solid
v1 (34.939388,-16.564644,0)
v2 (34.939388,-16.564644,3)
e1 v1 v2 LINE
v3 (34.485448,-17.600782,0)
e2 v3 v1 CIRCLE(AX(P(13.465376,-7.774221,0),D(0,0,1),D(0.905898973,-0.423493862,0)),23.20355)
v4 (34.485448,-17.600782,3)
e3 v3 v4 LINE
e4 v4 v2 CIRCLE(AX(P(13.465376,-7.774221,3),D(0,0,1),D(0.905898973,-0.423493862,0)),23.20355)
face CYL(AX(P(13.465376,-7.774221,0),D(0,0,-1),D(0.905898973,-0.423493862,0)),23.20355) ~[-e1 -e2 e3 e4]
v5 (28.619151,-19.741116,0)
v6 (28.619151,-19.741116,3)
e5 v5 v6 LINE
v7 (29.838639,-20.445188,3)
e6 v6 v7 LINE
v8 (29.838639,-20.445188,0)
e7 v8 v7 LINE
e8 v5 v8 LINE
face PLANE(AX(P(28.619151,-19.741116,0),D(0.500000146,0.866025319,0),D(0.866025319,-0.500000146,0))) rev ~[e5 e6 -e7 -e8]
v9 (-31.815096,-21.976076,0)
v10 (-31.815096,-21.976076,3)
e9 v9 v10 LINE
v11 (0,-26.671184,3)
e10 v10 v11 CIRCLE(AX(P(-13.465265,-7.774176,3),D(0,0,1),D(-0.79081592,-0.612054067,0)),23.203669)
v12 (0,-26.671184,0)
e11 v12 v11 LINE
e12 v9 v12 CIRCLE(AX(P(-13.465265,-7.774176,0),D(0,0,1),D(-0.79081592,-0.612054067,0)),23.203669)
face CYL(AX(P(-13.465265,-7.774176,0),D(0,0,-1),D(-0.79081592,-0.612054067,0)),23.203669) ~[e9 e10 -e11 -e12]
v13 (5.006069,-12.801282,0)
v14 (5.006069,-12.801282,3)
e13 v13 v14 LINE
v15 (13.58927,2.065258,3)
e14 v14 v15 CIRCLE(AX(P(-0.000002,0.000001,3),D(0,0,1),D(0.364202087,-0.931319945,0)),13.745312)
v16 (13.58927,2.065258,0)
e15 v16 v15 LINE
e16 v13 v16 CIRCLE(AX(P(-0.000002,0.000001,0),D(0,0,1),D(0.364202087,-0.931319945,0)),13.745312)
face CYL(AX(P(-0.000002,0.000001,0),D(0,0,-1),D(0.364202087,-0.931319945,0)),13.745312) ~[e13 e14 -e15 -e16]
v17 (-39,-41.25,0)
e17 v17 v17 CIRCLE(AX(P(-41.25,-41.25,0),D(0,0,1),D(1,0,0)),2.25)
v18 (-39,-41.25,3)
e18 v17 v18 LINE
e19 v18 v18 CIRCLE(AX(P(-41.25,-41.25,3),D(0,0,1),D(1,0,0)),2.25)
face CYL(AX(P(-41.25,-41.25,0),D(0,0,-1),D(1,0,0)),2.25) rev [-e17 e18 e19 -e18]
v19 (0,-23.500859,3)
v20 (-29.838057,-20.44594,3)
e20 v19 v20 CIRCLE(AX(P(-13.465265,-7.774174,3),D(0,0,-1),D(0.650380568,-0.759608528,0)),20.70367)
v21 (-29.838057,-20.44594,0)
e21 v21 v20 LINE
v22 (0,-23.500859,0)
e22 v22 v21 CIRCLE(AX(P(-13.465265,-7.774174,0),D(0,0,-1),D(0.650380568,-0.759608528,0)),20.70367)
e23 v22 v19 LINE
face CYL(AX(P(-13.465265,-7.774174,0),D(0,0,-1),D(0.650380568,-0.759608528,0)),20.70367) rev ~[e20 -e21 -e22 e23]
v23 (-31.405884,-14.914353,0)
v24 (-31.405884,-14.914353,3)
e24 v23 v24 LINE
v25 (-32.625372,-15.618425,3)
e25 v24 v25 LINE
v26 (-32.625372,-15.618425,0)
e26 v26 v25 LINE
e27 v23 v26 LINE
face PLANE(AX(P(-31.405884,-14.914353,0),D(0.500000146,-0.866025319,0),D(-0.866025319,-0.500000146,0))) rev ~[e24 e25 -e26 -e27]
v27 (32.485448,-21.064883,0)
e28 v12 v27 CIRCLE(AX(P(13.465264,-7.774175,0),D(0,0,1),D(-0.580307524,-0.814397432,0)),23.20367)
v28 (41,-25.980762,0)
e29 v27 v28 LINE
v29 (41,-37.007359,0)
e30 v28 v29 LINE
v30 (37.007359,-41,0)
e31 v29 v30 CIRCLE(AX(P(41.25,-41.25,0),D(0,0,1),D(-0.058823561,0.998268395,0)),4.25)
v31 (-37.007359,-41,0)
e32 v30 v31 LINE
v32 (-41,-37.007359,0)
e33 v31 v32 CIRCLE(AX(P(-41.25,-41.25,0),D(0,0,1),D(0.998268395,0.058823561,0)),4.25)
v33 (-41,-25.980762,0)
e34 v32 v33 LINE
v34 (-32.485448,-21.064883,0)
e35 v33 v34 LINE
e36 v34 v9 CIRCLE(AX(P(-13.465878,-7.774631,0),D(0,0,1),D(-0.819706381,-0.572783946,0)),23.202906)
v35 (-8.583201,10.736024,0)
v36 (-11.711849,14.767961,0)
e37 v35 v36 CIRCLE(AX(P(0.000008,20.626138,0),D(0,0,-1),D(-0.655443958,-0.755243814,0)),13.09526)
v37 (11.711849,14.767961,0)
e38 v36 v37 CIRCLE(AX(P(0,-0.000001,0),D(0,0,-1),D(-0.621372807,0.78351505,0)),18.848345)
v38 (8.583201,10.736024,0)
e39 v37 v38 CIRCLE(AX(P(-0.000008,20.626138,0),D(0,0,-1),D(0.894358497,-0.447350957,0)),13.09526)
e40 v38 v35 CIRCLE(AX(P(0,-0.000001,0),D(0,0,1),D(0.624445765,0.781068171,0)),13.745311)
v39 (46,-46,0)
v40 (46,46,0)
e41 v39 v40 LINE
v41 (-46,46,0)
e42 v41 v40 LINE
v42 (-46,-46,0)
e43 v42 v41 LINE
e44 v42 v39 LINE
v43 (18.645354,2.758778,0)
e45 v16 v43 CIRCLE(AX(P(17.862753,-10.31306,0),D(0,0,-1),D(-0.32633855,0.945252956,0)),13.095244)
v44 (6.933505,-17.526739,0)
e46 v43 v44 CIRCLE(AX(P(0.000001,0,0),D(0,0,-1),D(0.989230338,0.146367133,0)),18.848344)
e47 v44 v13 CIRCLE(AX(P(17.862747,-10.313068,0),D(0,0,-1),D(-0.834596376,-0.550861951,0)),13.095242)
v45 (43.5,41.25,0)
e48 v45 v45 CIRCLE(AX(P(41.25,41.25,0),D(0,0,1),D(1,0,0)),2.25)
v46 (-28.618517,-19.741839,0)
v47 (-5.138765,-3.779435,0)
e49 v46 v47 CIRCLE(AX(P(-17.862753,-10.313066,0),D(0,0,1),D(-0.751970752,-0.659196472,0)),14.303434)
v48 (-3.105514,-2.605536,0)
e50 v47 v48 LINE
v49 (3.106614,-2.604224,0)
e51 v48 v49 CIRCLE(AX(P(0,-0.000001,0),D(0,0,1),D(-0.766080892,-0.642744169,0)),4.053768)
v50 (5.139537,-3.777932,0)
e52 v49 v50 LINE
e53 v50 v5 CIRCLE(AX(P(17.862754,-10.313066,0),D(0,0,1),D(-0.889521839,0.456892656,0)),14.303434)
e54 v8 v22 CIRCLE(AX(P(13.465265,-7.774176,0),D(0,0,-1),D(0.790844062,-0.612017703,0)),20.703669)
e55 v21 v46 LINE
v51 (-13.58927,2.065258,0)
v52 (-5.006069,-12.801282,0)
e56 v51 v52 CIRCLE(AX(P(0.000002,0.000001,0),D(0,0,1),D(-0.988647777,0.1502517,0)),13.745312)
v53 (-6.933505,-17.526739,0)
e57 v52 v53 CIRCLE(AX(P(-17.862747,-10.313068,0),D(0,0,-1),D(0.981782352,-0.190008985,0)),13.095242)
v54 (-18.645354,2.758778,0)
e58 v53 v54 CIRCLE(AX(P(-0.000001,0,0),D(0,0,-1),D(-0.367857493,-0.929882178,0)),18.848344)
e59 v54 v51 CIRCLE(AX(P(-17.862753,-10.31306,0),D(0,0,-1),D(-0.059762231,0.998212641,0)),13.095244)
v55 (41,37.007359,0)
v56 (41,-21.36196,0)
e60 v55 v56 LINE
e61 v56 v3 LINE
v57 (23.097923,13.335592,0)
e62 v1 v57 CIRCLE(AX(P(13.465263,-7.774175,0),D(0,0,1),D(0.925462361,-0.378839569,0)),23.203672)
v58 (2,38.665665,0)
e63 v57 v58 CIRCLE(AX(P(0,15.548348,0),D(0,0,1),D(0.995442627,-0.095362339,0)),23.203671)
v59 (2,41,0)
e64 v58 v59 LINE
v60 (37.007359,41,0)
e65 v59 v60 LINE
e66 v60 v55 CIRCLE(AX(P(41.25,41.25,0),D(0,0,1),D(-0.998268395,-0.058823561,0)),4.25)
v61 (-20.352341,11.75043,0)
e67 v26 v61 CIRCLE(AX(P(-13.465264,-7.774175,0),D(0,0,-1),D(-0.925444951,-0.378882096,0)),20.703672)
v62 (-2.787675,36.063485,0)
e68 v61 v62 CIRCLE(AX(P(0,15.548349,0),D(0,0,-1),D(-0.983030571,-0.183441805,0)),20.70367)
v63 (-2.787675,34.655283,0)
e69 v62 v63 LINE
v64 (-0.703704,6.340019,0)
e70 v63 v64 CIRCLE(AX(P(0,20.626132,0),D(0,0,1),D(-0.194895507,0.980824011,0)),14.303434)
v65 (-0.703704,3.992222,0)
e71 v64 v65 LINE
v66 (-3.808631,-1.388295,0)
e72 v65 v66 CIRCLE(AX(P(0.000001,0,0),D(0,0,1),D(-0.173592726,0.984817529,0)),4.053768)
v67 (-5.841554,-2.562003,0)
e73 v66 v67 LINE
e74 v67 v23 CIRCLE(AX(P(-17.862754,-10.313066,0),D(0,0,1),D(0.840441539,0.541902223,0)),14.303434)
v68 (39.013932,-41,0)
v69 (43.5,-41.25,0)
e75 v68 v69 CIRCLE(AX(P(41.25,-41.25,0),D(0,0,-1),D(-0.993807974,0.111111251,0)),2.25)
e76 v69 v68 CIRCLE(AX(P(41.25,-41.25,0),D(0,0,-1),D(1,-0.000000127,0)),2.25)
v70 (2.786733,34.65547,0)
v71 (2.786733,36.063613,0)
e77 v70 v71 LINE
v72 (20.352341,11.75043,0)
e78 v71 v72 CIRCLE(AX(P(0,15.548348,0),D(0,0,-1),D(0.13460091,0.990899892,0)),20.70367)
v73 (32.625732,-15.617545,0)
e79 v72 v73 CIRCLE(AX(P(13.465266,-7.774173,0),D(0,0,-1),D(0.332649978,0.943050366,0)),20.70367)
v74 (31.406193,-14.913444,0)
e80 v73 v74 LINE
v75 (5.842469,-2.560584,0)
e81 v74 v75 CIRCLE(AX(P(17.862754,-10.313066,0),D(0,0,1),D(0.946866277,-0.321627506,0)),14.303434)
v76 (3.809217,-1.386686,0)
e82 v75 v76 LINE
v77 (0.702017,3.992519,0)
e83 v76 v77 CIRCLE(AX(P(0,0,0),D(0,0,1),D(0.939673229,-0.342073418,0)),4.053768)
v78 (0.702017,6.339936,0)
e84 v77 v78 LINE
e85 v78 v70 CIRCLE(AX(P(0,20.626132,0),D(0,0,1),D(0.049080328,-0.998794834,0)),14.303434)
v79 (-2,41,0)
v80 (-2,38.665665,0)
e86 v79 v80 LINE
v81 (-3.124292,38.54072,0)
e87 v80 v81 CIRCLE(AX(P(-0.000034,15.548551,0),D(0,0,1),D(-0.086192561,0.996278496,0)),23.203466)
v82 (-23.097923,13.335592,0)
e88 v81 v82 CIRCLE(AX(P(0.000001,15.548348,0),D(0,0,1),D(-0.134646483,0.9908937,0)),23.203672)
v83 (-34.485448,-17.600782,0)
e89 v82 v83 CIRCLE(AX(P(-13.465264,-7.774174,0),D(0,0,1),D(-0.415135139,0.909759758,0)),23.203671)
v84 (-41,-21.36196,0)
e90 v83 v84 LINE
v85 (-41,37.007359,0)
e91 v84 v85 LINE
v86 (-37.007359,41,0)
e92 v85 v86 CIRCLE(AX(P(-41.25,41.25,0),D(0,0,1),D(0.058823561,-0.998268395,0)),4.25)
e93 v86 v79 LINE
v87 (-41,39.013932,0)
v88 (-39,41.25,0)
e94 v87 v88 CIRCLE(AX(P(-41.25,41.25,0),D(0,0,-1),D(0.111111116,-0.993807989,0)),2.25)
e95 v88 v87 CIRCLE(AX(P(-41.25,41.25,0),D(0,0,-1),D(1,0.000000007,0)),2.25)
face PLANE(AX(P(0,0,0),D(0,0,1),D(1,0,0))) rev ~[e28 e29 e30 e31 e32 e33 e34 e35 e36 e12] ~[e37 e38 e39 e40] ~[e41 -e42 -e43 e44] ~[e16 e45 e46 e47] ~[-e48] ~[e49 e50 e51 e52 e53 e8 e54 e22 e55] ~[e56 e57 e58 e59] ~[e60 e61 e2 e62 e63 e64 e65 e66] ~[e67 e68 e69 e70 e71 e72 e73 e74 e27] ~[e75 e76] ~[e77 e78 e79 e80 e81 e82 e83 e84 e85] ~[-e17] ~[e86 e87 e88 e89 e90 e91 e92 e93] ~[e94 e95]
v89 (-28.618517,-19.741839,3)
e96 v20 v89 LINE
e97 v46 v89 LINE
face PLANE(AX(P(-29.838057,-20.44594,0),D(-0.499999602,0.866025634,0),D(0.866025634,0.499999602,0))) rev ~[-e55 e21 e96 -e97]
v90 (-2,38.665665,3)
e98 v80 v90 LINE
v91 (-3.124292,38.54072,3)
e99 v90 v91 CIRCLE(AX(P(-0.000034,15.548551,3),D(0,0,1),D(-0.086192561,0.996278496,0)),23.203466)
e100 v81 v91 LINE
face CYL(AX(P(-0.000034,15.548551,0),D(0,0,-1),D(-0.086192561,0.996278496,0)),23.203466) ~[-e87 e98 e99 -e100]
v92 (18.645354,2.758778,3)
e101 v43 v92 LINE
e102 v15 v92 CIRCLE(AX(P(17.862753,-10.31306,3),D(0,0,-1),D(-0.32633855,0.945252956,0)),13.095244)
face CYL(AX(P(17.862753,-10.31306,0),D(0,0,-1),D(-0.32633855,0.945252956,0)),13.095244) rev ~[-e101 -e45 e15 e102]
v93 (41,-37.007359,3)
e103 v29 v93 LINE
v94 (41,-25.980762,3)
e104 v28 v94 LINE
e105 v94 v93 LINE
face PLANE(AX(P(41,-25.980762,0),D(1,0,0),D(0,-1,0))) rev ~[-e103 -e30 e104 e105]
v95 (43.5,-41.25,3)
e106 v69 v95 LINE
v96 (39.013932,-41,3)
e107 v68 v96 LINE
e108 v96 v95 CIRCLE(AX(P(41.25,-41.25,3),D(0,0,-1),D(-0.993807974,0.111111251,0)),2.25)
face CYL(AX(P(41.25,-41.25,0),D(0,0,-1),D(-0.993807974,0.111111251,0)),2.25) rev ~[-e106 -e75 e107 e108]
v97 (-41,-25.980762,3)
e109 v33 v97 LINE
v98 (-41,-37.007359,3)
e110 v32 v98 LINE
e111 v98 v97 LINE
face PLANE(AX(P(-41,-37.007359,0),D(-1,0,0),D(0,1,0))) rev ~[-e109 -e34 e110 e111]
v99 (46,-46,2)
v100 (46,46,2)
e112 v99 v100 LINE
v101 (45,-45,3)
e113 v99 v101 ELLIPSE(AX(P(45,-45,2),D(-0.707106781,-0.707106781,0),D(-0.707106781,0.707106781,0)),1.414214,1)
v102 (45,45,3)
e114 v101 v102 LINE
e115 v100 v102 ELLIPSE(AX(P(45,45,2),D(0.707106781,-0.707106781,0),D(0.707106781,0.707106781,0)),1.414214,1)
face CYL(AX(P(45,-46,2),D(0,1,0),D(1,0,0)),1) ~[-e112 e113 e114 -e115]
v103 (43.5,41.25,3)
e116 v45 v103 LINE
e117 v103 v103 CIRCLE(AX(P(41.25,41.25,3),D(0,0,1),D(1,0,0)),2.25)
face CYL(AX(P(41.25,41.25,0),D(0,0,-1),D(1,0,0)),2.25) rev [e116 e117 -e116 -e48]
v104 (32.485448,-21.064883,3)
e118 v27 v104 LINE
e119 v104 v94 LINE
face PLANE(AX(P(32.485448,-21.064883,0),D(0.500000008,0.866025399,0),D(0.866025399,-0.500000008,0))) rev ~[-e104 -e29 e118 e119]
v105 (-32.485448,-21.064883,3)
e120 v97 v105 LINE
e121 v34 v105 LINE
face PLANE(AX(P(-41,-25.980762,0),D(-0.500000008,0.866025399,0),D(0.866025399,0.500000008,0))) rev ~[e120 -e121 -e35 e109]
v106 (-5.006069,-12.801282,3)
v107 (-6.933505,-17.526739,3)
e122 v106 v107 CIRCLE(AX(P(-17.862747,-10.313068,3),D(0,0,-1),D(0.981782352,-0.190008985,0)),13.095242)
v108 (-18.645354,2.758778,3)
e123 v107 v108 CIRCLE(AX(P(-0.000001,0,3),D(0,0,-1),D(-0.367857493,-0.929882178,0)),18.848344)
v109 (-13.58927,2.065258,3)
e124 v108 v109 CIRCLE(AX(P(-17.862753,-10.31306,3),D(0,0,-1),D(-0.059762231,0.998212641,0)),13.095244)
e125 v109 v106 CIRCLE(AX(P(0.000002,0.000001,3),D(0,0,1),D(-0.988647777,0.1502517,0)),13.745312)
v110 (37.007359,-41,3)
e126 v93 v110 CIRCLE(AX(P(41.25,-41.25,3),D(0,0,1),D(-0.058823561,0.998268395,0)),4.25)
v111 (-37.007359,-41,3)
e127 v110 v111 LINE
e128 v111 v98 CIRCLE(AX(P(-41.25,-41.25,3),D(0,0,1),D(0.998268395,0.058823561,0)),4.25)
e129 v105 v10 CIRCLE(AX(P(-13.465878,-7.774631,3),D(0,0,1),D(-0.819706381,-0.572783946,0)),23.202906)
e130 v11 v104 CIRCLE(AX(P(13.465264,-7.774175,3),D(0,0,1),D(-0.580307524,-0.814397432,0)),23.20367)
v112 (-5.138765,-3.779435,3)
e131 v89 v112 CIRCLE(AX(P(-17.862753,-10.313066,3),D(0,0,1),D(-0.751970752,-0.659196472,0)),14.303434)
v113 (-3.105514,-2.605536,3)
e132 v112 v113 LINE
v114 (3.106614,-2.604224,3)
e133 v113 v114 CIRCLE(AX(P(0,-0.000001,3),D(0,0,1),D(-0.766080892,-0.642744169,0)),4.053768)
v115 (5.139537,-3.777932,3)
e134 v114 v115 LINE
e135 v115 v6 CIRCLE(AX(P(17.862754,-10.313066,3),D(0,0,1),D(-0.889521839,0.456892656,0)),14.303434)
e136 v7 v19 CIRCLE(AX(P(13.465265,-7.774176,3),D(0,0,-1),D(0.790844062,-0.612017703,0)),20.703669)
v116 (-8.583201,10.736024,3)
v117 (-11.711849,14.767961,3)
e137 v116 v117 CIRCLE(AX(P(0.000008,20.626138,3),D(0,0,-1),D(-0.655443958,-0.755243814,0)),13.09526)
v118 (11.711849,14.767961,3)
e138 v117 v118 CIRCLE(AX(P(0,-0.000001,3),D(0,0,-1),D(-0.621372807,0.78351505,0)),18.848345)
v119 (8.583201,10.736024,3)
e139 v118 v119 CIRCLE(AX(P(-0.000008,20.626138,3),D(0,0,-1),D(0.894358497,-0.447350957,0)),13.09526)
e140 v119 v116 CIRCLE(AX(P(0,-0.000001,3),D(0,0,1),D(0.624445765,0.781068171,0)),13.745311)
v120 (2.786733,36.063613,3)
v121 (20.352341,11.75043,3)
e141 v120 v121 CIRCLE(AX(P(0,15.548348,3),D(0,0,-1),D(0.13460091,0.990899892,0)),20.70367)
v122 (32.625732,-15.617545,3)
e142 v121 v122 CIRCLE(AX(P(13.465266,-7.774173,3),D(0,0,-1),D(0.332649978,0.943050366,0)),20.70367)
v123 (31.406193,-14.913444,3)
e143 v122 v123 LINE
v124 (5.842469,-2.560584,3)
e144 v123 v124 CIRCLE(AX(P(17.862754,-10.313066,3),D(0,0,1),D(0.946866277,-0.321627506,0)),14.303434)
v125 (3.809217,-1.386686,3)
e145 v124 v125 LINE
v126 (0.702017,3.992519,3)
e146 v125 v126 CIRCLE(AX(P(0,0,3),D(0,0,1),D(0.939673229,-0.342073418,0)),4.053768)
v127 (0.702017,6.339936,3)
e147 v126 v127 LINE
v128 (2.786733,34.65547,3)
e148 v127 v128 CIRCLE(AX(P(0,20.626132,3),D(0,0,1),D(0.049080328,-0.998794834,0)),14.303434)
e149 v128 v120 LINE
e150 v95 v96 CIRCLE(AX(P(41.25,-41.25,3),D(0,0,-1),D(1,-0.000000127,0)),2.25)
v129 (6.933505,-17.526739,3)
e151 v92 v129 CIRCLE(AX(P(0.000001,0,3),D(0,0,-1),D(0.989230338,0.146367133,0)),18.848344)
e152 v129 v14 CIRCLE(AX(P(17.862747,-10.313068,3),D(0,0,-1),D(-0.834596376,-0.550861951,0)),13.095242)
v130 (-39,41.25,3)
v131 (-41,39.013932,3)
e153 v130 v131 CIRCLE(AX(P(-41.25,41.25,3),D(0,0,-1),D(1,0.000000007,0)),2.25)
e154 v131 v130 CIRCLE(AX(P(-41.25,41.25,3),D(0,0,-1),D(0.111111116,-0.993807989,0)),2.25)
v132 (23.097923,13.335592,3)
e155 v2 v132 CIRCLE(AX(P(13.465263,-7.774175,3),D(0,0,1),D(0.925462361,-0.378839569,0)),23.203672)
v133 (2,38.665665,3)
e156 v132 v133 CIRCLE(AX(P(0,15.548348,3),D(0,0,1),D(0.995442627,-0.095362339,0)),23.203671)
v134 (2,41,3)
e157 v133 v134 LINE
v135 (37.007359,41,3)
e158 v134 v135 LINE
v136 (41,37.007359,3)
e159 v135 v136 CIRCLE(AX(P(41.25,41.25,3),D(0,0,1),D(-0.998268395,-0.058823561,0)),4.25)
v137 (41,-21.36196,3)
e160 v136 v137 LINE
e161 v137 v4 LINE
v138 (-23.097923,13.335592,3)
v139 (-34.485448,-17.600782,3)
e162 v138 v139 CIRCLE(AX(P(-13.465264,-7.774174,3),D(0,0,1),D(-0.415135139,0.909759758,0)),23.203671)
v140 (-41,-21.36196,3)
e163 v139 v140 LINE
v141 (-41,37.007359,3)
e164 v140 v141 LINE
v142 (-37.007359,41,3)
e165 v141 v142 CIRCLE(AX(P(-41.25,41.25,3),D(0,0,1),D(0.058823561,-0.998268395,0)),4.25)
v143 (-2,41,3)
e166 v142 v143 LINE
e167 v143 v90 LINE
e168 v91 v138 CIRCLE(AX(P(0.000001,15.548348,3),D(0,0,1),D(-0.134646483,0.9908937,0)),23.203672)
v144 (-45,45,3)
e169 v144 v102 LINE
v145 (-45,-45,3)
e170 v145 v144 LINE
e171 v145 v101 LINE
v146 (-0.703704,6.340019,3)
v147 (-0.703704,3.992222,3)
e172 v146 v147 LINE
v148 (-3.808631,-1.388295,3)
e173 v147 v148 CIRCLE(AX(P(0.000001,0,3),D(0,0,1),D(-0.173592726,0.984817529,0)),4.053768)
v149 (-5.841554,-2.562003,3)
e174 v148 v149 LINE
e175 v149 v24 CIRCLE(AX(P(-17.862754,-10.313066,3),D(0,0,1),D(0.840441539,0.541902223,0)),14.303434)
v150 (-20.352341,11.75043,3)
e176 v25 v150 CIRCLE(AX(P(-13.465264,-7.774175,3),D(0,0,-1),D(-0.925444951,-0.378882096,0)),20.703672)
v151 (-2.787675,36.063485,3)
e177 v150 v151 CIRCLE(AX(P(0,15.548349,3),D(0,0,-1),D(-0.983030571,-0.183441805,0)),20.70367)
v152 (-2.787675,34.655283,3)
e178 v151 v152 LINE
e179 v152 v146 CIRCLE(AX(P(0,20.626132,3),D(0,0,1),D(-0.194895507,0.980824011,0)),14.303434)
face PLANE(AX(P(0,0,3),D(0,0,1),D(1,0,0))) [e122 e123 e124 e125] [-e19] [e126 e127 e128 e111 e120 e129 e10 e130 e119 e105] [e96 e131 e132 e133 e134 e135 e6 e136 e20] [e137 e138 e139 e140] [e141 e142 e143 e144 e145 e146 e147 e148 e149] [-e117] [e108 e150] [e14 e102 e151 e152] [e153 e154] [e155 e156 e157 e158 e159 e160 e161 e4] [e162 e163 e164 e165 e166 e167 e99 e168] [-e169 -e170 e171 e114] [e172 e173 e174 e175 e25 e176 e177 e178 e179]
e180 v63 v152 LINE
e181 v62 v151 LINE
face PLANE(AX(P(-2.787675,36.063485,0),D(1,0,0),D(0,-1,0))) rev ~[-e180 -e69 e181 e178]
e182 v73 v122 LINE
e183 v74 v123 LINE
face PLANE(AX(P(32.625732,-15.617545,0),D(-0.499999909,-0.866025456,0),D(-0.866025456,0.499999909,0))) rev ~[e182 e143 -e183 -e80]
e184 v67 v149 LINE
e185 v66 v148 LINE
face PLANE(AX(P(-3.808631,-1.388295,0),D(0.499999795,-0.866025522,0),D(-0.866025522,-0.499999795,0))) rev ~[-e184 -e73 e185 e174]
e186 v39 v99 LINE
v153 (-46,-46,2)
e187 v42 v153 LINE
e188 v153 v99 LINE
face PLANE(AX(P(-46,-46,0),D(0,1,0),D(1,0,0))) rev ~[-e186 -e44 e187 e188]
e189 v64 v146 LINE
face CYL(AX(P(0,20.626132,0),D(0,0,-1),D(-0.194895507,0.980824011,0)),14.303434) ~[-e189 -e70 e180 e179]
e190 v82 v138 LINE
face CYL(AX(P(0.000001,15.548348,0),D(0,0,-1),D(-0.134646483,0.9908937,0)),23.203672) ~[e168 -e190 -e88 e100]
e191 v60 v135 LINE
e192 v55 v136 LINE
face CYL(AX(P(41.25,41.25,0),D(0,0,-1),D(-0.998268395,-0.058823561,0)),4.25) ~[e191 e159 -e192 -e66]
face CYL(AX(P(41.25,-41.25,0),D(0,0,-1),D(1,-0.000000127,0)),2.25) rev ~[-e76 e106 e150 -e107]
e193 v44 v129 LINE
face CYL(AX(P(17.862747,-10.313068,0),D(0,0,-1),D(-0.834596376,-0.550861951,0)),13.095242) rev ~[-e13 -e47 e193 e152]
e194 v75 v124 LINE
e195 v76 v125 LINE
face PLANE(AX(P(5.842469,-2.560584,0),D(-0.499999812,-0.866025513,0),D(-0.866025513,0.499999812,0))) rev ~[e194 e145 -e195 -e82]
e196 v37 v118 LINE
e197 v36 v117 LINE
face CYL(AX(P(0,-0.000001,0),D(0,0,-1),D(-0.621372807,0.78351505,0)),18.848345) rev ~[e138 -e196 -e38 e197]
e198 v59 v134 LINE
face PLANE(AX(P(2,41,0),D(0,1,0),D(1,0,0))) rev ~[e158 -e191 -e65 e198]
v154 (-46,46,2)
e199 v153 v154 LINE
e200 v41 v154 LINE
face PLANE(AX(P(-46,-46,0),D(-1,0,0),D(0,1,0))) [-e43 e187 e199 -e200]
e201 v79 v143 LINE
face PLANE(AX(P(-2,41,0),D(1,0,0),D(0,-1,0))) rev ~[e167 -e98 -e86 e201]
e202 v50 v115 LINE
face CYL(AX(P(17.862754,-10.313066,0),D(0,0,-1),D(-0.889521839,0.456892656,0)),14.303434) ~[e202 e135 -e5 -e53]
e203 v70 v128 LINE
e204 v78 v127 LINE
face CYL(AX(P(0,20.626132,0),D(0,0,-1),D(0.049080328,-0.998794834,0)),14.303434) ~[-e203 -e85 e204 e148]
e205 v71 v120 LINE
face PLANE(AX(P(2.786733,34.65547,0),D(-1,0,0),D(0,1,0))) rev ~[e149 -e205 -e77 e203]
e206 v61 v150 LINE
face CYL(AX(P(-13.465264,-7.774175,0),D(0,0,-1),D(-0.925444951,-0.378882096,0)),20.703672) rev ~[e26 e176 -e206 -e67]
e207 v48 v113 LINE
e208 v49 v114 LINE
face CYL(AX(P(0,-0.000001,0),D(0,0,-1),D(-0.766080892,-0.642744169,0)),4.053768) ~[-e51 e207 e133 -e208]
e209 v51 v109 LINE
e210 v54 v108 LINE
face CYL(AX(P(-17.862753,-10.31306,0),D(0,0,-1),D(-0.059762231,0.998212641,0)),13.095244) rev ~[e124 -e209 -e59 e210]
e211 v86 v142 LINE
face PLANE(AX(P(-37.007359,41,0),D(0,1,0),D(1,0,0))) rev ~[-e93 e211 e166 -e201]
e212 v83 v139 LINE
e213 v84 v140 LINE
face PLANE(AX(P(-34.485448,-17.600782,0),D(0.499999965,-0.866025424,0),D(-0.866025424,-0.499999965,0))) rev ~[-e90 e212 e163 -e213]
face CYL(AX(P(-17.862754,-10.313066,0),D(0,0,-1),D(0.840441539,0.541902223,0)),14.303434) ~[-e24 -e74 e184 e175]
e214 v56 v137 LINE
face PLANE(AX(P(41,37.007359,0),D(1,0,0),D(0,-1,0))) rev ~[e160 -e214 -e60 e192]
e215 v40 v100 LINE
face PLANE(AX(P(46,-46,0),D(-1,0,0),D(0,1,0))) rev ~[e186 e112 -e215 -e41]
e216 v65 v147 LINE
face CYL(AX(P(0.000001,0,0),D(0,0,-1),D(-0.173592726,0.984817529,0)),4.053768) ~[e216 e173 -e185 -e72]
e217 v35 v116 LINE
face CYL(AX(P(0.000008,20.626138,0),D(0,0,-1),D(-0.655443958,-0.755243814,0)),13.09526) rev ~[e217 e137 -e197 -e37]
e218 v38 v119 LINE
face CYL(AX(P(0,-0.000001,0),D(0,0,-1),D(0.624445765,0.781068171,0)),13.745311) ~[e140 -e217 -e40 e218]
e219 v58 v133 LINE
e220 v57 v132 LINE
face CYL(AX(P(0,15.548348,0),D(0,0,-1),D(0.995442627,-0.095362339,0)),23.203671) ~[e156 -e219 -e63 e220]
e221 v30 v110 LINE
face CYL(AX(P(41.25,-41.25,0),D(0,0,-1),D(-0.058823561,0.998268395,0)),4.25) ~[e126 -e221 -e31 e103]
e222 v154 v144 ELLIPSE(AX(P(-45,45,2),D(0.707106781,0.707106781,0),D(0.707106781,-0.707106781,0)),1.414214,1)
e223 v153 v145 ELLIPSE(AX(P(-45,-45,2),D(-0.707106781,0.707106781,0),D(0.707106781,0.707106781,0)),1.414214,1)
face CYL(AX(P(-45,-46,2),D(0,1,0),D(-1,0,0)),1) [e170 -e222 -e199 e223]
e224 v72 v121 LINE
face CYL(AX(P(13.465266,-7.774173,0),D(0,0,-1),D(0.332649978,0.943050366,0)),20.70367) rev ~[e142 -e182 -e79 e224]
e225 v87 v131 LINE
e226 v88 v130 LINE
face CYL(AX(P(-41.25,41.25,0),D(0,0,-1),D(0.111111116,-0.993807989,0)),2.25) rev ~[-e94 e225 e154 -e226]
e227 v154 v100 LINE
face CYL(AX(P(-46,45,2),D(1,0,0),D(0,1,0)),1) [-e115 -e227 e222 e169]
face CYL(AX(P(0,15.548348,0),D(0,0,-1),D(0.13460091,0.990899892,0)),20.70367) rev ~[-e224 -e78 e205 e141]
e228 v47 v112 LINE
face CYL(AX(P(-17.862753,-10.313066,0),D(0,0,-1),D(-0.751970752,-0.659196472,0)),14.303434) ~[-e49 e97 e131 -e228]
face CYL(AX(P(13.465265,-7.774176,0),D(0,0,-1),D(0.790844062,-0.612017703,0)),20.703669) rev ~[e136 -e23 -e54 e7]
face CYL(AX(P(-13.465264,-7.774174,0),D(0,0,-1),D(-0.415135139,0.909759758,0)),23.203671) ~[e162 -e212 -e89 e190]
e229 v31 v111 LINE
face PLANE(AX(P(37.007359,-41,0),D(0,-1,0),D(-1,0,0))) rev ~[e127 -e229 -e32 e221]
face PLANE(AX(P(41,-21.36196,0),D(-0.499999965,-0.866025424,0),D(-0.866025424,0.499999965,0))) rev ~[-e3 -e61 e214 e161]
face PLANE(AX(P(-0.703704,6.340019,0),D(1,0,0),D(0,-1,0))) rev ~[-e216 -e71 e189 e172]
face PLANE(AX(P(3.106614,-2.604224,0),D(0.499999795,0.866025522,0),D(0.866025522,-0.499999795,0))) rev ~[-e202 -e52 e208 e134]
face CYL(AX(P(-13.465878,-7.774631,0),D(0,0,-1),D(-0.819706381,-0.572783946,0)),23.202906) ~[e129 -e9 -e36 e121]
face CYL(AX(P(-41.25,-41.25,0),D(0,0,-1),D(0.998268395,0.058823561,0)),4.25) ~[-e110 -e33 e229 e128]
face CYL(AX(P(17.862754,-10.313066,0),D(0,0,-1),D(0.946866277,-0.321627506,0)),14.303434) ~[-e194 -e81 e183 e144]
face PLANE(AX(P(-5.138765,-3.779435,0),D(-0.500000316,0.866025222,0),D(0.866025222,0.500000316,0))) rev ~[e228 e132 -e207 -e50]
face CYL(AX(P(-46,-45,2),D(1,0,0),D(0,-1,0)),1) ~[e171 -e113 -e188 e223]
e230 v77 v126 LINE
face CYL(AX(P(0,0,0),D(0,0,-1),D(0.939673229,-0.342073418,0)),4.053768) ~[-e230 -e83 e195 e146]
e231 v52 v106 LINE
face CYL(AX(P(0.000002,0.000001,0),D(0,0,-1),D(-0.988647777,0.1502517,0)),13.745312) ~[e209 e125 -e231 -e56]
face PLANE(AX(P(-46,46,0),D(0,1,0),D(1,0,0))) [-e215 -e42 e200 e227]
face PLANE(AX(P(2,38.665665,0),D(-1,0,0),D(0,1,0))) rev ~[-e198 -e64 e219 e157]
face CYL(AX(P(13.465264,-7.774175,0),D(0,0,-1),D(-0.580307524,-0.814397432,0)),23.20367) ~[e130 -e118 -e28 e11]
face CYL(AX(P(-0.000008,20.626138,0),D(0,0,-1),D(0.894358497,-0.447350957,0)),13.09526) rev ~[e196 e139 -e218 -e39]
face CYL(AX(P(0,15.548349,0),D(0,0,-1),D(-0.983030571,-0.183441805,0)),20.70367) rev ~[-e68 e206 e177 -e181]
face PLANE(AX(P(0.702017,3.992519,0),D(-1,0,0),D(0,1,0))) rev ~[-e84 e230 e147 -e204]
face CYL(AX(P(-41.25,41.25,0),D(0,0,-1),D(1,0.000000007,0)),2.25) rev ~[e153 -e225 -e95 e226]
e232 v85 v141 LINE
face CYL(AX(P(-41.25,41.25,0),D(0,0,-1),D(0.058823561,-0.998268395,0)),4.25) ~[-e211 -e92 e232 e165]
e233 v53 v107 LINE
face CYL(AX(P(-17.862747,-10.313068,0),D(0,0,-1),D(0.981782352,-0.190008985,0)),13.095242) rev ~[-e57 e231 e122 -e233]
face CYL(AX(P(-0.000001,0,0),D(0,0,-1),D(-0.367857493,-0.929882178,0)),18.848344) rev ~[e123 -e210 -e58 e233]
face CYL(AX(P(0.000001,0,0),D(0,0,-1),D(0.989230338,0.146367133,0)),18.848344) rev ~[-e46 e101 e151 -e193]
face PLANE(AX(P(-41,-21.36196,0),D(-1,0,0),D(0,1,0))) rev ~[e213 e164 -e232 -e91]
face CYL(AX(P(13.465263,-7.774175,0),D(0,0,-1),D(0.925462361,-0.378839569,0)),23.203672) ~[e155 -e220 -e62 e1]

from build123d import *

# Parameters (mm, degrees)
F0_W     = 92
F0_H     = 92
F0_R     = 2.25
F1_DEPTH = 3
F2_R     = 1


with BuildPart() as f1:
    # F0 (on Top) → F1 (new body)
    with BuildSketch(Plane.XY):
        Rectangle(F0_W, F0_H)
        with Locations((-41.25, -41.25)):
            Circle(F0_R, mode=Mode.SUBTRACT)
        with BuildLine():
            ThreePointArc((-6.933505, -17.526739), (-16.323145, -9.424172), (-18.645354, 2.758778))
            ThreePointArc((-18.645354, 2.758778), (-16.0832, 2.660706), (-13.58927, 2.065258))
            ThreePointArc((-13.58927, 2.065258), (-11.903787, -6.872655), (-5.006069, -12.801282))
            ThreePointArc((-5.006069, -12.801282), (-5.737361, -15.258813), (-6.933505, -17.526739))
        make_face(mode=Mode.SUBTRACT)
        with BuildLine():
            ThreePointArc((-32.485448, -21.064883), (-32.155826, -21.524565), (-31.815096, -21.976076))
            ThreePointArc((-31.815096, -21.976076), (-16.852854, -30.72923), (0, -26.671184))
            ThreePointArc((0, -26.671184), (17.411393, -30.639834), (32.485448, -21.064883))
            Line((32.485448, -21.064883), (41, -25.980762))
            Line((41, -25.980762), (41, -37.007359))
            ThreePointArc((41, -37.007359), (38.244796, -38.244796), (37.007359, -41))
            Line((37.007359, -41), (-37.007359, -41))
            ThreePointArc((-37.007359, -41), (-38.244796, -38.244796), (-41, -37.007359))
            Line((-41, -37.007359), (-41, -25.980762))
            Line((-41, -25.980762), (-32.485448, -21.064883))
        make_face(mode=Mode.SUBTRACT)
        with BuildLine():
            ThreePointArc((39.013932, -41), (41.375194, -39.003486), (43.5, -41.25))
            ThreePointArc((43.5, -41.25), (41.124806, -43.496514), (39.013932, -41))
        make_face(mode=Mode.SUBTRACT)
        with BuildLine():
            Line((3.106614, -2.604224), (5.139537, -3.777932))
            ThreePointArc((5.139537, -3.777932), (9.820807, -22.141646), (28.619151, -19.741116))
            Line((28.619151, -19.741116), (29.838639, -20.445188))
            ThreePointArc((29.838639, -20.445188), (15.574425, -28.370131), (0, -23.500859))
            ThreePointArc((0, -23.500859), (-15.573952, -28.370179), (-29.838057, -20.44594))
            Line((-29.838057, -20.44594), (-28.618517, -19.741839))
            ThreePointArc((-28.618517, -19.741839), (-9.821108, -22.141851), (-5.138765, -3.779435))
            Line((-5.138765, -3.779435), (-3.105514, -2.605536))
            ThreePointArc((-3.105514, -2.605536), (0.000856, -4.053768), (3.106614, -2.604224))
        make_face(mode=Mode.SUBTRACT)
        with BuildLine():
            ThreePointArc((18.645354, 2.758778), (16.323145, -9.424172), (6.933505, -17.526739))
            ThreePointArc((6.933505, -17.526739), (5.737361, -15.258813), (5.006069, -12.801282))
            ThreePointArc((5.006069, -12.801282), (11.903787, -6.872655), (13.58927, 2.065258))
            ThreePointArc((13.58927, 2.065258), (16.0832, 2.660706), (18.645354, 2.758778))
        make_face(mode=Mode.SUBTRACT)
        with BuildLine():
            Line((-41, -21.36196), (-41, 37.007359))
            ThreePointArc((-41, 37.007359), (-38.244796, 38.244796), (-37.007359, 41))
            Line((-37.007359, 41), (-2, 41))
            Line((-2, 41), (-2, 38.665665))
            ThreePointArc((-2, 38.665665), (-2.562907, 38.610045), (-3.124292, 38.54072))
            ThreePointArc((-3.124292, 38.54072), (-18.185867, 29.959614), (-23.097923, 13.335592))
            ThreePointArc((-23.097923, 13.335592), (-35.240571, 0.241208), (-34.485448, -17.600782))
            Line((-34.485448, -17.600782), (-41, -21.36196))
        make_face(mode=Mode.SUBTRACT)
        with BuildLine():
            Line((-0.703704, 6.340019), (-0.703704, 3.992222))
            ThreePointArc((-0.703704, 3.992222), (-3.511094, 2.026142), (-3.808631, -1.388295))
            Line((-3.808631, -1.388295), (-5.841554, -2.562003))
            ThreePointArc((-5.841554, -2.562003), (-24.085631, 2.565755), (-31.405884, -14.914353))
            Line((-31.405884, -14.914353), (-32.625372, -15.618425))
            ThreePointArc((-32.625372, -15.618425), (-32.356466, 0.697218), (-20.352341, 11.75043))
            ThreePointArc((-20.352341, 11.75043), (-16.78232, 27.672527), (-2.787675, 36.063485))
            Line((-2.787675, 36.063485), (-2.787675, 34.655283))
            ThreePointArc((-2.787675, 34.655283), (-14.264851, 19.576254), (-0.703704, 6.340019))
        make_face(mode=Mode.SUBTRACT)
        with BuildLine():
            ThreePointArc((-41, 39.013932), (-42.927051, 42.75), (-39, 41.25))
            ThreePointArc((-39, 41.25), (-39.572949, 39.75), (-41, 39.013932))
        make_face(mode=Mode.SUBTRACT)
        with BuildLine():
            Line((0.702017, 3.992519), (0.702017, 6.339936))
            ThreePointArc((0.702017, 6.339936), (14.264824, 19.575891), (2.786733, 34.65547))
            Line((2.786733, 34.65547), (2.786733, 36.063613))
            ThreePointArc((2.786733, 36.063613), (16.782041, 27.672913), (20.352341, 11.75043))
            ThreePointArc((20.352341, 11.75043), (32.356272, 0.697652), (32.625732, -15.617545))
            Line((32.625732, -15.617545), (31.406193, -14.913444))
            ThreePointArc((31.406193, -14.913444), (24.085959, 2.565596), (5.842469, -2.560584))
            Line((5.842469, -2.560584), (3.809217, -1.386686))
            ThreePointArc((3.809217, -1.386686), (3.510238, 2.027625), (0.702017, 3.992519))
        make_face(mode=Mode.SUBTRACT)
        with BuildLine():
            ThreePointArc((34.485448, -17.600782), (34.718733, -17.08548), (34.939388, -16.564644))
            ThreePointArc((34.939388, -16.564644), (35.03872, 0.769615), (23.097923, 13.335592))
            ThreePointArc((23.097923, 13.335592), (17.829178, 30.398626), (2, 38.665665))
            Line((2, 38.665665), (2, 41))
            Line((2, 41), (37.007359, 41))
            ThreePointArc((37.007359, 41), (38.244796, 38.244796), (41, 37.007359))
            Line((41, 37.007359), (41, -21.36196))
            Line((41, -21.36196), (34.485448, -17.600782))
        make_face(mode=Mode.SUBTRACT)
        with BuildLine():
            ThreePointArc((-11.711849, 14.767961), (0, 18.848344), (11.711849, 14.767961))
            ThreePointArc((11.711849, 14.767961), (10.345839, 12.598107), (8.583201, 10.736024))
            ThreePointArc((8.583201, 10.736024), (0, 13.74531), (-8.583201, 10.736024))
            ThreePointArc((-8.583201, 10.736024), (-10.345839, 12.598107), (-11.711849, 14.767961))
        make_face(mode=Mode.SUBTRACT)
        with Locations((41.25, 41.25)):
            Circle(F0_R, mode=Mode.SUBTRACT)
    extrude(amount=F1_DEPTH)

    # F2
    f2_edges = [f1.edges().sort_by_distance(p)[0] for p in [
        (0, 46, 3),
        (46, 0, 3),
        (-46, 0, 3),
        (0, -46, 3),
    ]]
    fillet(f2_edges, radius=F2_R)


solid = f1.part
